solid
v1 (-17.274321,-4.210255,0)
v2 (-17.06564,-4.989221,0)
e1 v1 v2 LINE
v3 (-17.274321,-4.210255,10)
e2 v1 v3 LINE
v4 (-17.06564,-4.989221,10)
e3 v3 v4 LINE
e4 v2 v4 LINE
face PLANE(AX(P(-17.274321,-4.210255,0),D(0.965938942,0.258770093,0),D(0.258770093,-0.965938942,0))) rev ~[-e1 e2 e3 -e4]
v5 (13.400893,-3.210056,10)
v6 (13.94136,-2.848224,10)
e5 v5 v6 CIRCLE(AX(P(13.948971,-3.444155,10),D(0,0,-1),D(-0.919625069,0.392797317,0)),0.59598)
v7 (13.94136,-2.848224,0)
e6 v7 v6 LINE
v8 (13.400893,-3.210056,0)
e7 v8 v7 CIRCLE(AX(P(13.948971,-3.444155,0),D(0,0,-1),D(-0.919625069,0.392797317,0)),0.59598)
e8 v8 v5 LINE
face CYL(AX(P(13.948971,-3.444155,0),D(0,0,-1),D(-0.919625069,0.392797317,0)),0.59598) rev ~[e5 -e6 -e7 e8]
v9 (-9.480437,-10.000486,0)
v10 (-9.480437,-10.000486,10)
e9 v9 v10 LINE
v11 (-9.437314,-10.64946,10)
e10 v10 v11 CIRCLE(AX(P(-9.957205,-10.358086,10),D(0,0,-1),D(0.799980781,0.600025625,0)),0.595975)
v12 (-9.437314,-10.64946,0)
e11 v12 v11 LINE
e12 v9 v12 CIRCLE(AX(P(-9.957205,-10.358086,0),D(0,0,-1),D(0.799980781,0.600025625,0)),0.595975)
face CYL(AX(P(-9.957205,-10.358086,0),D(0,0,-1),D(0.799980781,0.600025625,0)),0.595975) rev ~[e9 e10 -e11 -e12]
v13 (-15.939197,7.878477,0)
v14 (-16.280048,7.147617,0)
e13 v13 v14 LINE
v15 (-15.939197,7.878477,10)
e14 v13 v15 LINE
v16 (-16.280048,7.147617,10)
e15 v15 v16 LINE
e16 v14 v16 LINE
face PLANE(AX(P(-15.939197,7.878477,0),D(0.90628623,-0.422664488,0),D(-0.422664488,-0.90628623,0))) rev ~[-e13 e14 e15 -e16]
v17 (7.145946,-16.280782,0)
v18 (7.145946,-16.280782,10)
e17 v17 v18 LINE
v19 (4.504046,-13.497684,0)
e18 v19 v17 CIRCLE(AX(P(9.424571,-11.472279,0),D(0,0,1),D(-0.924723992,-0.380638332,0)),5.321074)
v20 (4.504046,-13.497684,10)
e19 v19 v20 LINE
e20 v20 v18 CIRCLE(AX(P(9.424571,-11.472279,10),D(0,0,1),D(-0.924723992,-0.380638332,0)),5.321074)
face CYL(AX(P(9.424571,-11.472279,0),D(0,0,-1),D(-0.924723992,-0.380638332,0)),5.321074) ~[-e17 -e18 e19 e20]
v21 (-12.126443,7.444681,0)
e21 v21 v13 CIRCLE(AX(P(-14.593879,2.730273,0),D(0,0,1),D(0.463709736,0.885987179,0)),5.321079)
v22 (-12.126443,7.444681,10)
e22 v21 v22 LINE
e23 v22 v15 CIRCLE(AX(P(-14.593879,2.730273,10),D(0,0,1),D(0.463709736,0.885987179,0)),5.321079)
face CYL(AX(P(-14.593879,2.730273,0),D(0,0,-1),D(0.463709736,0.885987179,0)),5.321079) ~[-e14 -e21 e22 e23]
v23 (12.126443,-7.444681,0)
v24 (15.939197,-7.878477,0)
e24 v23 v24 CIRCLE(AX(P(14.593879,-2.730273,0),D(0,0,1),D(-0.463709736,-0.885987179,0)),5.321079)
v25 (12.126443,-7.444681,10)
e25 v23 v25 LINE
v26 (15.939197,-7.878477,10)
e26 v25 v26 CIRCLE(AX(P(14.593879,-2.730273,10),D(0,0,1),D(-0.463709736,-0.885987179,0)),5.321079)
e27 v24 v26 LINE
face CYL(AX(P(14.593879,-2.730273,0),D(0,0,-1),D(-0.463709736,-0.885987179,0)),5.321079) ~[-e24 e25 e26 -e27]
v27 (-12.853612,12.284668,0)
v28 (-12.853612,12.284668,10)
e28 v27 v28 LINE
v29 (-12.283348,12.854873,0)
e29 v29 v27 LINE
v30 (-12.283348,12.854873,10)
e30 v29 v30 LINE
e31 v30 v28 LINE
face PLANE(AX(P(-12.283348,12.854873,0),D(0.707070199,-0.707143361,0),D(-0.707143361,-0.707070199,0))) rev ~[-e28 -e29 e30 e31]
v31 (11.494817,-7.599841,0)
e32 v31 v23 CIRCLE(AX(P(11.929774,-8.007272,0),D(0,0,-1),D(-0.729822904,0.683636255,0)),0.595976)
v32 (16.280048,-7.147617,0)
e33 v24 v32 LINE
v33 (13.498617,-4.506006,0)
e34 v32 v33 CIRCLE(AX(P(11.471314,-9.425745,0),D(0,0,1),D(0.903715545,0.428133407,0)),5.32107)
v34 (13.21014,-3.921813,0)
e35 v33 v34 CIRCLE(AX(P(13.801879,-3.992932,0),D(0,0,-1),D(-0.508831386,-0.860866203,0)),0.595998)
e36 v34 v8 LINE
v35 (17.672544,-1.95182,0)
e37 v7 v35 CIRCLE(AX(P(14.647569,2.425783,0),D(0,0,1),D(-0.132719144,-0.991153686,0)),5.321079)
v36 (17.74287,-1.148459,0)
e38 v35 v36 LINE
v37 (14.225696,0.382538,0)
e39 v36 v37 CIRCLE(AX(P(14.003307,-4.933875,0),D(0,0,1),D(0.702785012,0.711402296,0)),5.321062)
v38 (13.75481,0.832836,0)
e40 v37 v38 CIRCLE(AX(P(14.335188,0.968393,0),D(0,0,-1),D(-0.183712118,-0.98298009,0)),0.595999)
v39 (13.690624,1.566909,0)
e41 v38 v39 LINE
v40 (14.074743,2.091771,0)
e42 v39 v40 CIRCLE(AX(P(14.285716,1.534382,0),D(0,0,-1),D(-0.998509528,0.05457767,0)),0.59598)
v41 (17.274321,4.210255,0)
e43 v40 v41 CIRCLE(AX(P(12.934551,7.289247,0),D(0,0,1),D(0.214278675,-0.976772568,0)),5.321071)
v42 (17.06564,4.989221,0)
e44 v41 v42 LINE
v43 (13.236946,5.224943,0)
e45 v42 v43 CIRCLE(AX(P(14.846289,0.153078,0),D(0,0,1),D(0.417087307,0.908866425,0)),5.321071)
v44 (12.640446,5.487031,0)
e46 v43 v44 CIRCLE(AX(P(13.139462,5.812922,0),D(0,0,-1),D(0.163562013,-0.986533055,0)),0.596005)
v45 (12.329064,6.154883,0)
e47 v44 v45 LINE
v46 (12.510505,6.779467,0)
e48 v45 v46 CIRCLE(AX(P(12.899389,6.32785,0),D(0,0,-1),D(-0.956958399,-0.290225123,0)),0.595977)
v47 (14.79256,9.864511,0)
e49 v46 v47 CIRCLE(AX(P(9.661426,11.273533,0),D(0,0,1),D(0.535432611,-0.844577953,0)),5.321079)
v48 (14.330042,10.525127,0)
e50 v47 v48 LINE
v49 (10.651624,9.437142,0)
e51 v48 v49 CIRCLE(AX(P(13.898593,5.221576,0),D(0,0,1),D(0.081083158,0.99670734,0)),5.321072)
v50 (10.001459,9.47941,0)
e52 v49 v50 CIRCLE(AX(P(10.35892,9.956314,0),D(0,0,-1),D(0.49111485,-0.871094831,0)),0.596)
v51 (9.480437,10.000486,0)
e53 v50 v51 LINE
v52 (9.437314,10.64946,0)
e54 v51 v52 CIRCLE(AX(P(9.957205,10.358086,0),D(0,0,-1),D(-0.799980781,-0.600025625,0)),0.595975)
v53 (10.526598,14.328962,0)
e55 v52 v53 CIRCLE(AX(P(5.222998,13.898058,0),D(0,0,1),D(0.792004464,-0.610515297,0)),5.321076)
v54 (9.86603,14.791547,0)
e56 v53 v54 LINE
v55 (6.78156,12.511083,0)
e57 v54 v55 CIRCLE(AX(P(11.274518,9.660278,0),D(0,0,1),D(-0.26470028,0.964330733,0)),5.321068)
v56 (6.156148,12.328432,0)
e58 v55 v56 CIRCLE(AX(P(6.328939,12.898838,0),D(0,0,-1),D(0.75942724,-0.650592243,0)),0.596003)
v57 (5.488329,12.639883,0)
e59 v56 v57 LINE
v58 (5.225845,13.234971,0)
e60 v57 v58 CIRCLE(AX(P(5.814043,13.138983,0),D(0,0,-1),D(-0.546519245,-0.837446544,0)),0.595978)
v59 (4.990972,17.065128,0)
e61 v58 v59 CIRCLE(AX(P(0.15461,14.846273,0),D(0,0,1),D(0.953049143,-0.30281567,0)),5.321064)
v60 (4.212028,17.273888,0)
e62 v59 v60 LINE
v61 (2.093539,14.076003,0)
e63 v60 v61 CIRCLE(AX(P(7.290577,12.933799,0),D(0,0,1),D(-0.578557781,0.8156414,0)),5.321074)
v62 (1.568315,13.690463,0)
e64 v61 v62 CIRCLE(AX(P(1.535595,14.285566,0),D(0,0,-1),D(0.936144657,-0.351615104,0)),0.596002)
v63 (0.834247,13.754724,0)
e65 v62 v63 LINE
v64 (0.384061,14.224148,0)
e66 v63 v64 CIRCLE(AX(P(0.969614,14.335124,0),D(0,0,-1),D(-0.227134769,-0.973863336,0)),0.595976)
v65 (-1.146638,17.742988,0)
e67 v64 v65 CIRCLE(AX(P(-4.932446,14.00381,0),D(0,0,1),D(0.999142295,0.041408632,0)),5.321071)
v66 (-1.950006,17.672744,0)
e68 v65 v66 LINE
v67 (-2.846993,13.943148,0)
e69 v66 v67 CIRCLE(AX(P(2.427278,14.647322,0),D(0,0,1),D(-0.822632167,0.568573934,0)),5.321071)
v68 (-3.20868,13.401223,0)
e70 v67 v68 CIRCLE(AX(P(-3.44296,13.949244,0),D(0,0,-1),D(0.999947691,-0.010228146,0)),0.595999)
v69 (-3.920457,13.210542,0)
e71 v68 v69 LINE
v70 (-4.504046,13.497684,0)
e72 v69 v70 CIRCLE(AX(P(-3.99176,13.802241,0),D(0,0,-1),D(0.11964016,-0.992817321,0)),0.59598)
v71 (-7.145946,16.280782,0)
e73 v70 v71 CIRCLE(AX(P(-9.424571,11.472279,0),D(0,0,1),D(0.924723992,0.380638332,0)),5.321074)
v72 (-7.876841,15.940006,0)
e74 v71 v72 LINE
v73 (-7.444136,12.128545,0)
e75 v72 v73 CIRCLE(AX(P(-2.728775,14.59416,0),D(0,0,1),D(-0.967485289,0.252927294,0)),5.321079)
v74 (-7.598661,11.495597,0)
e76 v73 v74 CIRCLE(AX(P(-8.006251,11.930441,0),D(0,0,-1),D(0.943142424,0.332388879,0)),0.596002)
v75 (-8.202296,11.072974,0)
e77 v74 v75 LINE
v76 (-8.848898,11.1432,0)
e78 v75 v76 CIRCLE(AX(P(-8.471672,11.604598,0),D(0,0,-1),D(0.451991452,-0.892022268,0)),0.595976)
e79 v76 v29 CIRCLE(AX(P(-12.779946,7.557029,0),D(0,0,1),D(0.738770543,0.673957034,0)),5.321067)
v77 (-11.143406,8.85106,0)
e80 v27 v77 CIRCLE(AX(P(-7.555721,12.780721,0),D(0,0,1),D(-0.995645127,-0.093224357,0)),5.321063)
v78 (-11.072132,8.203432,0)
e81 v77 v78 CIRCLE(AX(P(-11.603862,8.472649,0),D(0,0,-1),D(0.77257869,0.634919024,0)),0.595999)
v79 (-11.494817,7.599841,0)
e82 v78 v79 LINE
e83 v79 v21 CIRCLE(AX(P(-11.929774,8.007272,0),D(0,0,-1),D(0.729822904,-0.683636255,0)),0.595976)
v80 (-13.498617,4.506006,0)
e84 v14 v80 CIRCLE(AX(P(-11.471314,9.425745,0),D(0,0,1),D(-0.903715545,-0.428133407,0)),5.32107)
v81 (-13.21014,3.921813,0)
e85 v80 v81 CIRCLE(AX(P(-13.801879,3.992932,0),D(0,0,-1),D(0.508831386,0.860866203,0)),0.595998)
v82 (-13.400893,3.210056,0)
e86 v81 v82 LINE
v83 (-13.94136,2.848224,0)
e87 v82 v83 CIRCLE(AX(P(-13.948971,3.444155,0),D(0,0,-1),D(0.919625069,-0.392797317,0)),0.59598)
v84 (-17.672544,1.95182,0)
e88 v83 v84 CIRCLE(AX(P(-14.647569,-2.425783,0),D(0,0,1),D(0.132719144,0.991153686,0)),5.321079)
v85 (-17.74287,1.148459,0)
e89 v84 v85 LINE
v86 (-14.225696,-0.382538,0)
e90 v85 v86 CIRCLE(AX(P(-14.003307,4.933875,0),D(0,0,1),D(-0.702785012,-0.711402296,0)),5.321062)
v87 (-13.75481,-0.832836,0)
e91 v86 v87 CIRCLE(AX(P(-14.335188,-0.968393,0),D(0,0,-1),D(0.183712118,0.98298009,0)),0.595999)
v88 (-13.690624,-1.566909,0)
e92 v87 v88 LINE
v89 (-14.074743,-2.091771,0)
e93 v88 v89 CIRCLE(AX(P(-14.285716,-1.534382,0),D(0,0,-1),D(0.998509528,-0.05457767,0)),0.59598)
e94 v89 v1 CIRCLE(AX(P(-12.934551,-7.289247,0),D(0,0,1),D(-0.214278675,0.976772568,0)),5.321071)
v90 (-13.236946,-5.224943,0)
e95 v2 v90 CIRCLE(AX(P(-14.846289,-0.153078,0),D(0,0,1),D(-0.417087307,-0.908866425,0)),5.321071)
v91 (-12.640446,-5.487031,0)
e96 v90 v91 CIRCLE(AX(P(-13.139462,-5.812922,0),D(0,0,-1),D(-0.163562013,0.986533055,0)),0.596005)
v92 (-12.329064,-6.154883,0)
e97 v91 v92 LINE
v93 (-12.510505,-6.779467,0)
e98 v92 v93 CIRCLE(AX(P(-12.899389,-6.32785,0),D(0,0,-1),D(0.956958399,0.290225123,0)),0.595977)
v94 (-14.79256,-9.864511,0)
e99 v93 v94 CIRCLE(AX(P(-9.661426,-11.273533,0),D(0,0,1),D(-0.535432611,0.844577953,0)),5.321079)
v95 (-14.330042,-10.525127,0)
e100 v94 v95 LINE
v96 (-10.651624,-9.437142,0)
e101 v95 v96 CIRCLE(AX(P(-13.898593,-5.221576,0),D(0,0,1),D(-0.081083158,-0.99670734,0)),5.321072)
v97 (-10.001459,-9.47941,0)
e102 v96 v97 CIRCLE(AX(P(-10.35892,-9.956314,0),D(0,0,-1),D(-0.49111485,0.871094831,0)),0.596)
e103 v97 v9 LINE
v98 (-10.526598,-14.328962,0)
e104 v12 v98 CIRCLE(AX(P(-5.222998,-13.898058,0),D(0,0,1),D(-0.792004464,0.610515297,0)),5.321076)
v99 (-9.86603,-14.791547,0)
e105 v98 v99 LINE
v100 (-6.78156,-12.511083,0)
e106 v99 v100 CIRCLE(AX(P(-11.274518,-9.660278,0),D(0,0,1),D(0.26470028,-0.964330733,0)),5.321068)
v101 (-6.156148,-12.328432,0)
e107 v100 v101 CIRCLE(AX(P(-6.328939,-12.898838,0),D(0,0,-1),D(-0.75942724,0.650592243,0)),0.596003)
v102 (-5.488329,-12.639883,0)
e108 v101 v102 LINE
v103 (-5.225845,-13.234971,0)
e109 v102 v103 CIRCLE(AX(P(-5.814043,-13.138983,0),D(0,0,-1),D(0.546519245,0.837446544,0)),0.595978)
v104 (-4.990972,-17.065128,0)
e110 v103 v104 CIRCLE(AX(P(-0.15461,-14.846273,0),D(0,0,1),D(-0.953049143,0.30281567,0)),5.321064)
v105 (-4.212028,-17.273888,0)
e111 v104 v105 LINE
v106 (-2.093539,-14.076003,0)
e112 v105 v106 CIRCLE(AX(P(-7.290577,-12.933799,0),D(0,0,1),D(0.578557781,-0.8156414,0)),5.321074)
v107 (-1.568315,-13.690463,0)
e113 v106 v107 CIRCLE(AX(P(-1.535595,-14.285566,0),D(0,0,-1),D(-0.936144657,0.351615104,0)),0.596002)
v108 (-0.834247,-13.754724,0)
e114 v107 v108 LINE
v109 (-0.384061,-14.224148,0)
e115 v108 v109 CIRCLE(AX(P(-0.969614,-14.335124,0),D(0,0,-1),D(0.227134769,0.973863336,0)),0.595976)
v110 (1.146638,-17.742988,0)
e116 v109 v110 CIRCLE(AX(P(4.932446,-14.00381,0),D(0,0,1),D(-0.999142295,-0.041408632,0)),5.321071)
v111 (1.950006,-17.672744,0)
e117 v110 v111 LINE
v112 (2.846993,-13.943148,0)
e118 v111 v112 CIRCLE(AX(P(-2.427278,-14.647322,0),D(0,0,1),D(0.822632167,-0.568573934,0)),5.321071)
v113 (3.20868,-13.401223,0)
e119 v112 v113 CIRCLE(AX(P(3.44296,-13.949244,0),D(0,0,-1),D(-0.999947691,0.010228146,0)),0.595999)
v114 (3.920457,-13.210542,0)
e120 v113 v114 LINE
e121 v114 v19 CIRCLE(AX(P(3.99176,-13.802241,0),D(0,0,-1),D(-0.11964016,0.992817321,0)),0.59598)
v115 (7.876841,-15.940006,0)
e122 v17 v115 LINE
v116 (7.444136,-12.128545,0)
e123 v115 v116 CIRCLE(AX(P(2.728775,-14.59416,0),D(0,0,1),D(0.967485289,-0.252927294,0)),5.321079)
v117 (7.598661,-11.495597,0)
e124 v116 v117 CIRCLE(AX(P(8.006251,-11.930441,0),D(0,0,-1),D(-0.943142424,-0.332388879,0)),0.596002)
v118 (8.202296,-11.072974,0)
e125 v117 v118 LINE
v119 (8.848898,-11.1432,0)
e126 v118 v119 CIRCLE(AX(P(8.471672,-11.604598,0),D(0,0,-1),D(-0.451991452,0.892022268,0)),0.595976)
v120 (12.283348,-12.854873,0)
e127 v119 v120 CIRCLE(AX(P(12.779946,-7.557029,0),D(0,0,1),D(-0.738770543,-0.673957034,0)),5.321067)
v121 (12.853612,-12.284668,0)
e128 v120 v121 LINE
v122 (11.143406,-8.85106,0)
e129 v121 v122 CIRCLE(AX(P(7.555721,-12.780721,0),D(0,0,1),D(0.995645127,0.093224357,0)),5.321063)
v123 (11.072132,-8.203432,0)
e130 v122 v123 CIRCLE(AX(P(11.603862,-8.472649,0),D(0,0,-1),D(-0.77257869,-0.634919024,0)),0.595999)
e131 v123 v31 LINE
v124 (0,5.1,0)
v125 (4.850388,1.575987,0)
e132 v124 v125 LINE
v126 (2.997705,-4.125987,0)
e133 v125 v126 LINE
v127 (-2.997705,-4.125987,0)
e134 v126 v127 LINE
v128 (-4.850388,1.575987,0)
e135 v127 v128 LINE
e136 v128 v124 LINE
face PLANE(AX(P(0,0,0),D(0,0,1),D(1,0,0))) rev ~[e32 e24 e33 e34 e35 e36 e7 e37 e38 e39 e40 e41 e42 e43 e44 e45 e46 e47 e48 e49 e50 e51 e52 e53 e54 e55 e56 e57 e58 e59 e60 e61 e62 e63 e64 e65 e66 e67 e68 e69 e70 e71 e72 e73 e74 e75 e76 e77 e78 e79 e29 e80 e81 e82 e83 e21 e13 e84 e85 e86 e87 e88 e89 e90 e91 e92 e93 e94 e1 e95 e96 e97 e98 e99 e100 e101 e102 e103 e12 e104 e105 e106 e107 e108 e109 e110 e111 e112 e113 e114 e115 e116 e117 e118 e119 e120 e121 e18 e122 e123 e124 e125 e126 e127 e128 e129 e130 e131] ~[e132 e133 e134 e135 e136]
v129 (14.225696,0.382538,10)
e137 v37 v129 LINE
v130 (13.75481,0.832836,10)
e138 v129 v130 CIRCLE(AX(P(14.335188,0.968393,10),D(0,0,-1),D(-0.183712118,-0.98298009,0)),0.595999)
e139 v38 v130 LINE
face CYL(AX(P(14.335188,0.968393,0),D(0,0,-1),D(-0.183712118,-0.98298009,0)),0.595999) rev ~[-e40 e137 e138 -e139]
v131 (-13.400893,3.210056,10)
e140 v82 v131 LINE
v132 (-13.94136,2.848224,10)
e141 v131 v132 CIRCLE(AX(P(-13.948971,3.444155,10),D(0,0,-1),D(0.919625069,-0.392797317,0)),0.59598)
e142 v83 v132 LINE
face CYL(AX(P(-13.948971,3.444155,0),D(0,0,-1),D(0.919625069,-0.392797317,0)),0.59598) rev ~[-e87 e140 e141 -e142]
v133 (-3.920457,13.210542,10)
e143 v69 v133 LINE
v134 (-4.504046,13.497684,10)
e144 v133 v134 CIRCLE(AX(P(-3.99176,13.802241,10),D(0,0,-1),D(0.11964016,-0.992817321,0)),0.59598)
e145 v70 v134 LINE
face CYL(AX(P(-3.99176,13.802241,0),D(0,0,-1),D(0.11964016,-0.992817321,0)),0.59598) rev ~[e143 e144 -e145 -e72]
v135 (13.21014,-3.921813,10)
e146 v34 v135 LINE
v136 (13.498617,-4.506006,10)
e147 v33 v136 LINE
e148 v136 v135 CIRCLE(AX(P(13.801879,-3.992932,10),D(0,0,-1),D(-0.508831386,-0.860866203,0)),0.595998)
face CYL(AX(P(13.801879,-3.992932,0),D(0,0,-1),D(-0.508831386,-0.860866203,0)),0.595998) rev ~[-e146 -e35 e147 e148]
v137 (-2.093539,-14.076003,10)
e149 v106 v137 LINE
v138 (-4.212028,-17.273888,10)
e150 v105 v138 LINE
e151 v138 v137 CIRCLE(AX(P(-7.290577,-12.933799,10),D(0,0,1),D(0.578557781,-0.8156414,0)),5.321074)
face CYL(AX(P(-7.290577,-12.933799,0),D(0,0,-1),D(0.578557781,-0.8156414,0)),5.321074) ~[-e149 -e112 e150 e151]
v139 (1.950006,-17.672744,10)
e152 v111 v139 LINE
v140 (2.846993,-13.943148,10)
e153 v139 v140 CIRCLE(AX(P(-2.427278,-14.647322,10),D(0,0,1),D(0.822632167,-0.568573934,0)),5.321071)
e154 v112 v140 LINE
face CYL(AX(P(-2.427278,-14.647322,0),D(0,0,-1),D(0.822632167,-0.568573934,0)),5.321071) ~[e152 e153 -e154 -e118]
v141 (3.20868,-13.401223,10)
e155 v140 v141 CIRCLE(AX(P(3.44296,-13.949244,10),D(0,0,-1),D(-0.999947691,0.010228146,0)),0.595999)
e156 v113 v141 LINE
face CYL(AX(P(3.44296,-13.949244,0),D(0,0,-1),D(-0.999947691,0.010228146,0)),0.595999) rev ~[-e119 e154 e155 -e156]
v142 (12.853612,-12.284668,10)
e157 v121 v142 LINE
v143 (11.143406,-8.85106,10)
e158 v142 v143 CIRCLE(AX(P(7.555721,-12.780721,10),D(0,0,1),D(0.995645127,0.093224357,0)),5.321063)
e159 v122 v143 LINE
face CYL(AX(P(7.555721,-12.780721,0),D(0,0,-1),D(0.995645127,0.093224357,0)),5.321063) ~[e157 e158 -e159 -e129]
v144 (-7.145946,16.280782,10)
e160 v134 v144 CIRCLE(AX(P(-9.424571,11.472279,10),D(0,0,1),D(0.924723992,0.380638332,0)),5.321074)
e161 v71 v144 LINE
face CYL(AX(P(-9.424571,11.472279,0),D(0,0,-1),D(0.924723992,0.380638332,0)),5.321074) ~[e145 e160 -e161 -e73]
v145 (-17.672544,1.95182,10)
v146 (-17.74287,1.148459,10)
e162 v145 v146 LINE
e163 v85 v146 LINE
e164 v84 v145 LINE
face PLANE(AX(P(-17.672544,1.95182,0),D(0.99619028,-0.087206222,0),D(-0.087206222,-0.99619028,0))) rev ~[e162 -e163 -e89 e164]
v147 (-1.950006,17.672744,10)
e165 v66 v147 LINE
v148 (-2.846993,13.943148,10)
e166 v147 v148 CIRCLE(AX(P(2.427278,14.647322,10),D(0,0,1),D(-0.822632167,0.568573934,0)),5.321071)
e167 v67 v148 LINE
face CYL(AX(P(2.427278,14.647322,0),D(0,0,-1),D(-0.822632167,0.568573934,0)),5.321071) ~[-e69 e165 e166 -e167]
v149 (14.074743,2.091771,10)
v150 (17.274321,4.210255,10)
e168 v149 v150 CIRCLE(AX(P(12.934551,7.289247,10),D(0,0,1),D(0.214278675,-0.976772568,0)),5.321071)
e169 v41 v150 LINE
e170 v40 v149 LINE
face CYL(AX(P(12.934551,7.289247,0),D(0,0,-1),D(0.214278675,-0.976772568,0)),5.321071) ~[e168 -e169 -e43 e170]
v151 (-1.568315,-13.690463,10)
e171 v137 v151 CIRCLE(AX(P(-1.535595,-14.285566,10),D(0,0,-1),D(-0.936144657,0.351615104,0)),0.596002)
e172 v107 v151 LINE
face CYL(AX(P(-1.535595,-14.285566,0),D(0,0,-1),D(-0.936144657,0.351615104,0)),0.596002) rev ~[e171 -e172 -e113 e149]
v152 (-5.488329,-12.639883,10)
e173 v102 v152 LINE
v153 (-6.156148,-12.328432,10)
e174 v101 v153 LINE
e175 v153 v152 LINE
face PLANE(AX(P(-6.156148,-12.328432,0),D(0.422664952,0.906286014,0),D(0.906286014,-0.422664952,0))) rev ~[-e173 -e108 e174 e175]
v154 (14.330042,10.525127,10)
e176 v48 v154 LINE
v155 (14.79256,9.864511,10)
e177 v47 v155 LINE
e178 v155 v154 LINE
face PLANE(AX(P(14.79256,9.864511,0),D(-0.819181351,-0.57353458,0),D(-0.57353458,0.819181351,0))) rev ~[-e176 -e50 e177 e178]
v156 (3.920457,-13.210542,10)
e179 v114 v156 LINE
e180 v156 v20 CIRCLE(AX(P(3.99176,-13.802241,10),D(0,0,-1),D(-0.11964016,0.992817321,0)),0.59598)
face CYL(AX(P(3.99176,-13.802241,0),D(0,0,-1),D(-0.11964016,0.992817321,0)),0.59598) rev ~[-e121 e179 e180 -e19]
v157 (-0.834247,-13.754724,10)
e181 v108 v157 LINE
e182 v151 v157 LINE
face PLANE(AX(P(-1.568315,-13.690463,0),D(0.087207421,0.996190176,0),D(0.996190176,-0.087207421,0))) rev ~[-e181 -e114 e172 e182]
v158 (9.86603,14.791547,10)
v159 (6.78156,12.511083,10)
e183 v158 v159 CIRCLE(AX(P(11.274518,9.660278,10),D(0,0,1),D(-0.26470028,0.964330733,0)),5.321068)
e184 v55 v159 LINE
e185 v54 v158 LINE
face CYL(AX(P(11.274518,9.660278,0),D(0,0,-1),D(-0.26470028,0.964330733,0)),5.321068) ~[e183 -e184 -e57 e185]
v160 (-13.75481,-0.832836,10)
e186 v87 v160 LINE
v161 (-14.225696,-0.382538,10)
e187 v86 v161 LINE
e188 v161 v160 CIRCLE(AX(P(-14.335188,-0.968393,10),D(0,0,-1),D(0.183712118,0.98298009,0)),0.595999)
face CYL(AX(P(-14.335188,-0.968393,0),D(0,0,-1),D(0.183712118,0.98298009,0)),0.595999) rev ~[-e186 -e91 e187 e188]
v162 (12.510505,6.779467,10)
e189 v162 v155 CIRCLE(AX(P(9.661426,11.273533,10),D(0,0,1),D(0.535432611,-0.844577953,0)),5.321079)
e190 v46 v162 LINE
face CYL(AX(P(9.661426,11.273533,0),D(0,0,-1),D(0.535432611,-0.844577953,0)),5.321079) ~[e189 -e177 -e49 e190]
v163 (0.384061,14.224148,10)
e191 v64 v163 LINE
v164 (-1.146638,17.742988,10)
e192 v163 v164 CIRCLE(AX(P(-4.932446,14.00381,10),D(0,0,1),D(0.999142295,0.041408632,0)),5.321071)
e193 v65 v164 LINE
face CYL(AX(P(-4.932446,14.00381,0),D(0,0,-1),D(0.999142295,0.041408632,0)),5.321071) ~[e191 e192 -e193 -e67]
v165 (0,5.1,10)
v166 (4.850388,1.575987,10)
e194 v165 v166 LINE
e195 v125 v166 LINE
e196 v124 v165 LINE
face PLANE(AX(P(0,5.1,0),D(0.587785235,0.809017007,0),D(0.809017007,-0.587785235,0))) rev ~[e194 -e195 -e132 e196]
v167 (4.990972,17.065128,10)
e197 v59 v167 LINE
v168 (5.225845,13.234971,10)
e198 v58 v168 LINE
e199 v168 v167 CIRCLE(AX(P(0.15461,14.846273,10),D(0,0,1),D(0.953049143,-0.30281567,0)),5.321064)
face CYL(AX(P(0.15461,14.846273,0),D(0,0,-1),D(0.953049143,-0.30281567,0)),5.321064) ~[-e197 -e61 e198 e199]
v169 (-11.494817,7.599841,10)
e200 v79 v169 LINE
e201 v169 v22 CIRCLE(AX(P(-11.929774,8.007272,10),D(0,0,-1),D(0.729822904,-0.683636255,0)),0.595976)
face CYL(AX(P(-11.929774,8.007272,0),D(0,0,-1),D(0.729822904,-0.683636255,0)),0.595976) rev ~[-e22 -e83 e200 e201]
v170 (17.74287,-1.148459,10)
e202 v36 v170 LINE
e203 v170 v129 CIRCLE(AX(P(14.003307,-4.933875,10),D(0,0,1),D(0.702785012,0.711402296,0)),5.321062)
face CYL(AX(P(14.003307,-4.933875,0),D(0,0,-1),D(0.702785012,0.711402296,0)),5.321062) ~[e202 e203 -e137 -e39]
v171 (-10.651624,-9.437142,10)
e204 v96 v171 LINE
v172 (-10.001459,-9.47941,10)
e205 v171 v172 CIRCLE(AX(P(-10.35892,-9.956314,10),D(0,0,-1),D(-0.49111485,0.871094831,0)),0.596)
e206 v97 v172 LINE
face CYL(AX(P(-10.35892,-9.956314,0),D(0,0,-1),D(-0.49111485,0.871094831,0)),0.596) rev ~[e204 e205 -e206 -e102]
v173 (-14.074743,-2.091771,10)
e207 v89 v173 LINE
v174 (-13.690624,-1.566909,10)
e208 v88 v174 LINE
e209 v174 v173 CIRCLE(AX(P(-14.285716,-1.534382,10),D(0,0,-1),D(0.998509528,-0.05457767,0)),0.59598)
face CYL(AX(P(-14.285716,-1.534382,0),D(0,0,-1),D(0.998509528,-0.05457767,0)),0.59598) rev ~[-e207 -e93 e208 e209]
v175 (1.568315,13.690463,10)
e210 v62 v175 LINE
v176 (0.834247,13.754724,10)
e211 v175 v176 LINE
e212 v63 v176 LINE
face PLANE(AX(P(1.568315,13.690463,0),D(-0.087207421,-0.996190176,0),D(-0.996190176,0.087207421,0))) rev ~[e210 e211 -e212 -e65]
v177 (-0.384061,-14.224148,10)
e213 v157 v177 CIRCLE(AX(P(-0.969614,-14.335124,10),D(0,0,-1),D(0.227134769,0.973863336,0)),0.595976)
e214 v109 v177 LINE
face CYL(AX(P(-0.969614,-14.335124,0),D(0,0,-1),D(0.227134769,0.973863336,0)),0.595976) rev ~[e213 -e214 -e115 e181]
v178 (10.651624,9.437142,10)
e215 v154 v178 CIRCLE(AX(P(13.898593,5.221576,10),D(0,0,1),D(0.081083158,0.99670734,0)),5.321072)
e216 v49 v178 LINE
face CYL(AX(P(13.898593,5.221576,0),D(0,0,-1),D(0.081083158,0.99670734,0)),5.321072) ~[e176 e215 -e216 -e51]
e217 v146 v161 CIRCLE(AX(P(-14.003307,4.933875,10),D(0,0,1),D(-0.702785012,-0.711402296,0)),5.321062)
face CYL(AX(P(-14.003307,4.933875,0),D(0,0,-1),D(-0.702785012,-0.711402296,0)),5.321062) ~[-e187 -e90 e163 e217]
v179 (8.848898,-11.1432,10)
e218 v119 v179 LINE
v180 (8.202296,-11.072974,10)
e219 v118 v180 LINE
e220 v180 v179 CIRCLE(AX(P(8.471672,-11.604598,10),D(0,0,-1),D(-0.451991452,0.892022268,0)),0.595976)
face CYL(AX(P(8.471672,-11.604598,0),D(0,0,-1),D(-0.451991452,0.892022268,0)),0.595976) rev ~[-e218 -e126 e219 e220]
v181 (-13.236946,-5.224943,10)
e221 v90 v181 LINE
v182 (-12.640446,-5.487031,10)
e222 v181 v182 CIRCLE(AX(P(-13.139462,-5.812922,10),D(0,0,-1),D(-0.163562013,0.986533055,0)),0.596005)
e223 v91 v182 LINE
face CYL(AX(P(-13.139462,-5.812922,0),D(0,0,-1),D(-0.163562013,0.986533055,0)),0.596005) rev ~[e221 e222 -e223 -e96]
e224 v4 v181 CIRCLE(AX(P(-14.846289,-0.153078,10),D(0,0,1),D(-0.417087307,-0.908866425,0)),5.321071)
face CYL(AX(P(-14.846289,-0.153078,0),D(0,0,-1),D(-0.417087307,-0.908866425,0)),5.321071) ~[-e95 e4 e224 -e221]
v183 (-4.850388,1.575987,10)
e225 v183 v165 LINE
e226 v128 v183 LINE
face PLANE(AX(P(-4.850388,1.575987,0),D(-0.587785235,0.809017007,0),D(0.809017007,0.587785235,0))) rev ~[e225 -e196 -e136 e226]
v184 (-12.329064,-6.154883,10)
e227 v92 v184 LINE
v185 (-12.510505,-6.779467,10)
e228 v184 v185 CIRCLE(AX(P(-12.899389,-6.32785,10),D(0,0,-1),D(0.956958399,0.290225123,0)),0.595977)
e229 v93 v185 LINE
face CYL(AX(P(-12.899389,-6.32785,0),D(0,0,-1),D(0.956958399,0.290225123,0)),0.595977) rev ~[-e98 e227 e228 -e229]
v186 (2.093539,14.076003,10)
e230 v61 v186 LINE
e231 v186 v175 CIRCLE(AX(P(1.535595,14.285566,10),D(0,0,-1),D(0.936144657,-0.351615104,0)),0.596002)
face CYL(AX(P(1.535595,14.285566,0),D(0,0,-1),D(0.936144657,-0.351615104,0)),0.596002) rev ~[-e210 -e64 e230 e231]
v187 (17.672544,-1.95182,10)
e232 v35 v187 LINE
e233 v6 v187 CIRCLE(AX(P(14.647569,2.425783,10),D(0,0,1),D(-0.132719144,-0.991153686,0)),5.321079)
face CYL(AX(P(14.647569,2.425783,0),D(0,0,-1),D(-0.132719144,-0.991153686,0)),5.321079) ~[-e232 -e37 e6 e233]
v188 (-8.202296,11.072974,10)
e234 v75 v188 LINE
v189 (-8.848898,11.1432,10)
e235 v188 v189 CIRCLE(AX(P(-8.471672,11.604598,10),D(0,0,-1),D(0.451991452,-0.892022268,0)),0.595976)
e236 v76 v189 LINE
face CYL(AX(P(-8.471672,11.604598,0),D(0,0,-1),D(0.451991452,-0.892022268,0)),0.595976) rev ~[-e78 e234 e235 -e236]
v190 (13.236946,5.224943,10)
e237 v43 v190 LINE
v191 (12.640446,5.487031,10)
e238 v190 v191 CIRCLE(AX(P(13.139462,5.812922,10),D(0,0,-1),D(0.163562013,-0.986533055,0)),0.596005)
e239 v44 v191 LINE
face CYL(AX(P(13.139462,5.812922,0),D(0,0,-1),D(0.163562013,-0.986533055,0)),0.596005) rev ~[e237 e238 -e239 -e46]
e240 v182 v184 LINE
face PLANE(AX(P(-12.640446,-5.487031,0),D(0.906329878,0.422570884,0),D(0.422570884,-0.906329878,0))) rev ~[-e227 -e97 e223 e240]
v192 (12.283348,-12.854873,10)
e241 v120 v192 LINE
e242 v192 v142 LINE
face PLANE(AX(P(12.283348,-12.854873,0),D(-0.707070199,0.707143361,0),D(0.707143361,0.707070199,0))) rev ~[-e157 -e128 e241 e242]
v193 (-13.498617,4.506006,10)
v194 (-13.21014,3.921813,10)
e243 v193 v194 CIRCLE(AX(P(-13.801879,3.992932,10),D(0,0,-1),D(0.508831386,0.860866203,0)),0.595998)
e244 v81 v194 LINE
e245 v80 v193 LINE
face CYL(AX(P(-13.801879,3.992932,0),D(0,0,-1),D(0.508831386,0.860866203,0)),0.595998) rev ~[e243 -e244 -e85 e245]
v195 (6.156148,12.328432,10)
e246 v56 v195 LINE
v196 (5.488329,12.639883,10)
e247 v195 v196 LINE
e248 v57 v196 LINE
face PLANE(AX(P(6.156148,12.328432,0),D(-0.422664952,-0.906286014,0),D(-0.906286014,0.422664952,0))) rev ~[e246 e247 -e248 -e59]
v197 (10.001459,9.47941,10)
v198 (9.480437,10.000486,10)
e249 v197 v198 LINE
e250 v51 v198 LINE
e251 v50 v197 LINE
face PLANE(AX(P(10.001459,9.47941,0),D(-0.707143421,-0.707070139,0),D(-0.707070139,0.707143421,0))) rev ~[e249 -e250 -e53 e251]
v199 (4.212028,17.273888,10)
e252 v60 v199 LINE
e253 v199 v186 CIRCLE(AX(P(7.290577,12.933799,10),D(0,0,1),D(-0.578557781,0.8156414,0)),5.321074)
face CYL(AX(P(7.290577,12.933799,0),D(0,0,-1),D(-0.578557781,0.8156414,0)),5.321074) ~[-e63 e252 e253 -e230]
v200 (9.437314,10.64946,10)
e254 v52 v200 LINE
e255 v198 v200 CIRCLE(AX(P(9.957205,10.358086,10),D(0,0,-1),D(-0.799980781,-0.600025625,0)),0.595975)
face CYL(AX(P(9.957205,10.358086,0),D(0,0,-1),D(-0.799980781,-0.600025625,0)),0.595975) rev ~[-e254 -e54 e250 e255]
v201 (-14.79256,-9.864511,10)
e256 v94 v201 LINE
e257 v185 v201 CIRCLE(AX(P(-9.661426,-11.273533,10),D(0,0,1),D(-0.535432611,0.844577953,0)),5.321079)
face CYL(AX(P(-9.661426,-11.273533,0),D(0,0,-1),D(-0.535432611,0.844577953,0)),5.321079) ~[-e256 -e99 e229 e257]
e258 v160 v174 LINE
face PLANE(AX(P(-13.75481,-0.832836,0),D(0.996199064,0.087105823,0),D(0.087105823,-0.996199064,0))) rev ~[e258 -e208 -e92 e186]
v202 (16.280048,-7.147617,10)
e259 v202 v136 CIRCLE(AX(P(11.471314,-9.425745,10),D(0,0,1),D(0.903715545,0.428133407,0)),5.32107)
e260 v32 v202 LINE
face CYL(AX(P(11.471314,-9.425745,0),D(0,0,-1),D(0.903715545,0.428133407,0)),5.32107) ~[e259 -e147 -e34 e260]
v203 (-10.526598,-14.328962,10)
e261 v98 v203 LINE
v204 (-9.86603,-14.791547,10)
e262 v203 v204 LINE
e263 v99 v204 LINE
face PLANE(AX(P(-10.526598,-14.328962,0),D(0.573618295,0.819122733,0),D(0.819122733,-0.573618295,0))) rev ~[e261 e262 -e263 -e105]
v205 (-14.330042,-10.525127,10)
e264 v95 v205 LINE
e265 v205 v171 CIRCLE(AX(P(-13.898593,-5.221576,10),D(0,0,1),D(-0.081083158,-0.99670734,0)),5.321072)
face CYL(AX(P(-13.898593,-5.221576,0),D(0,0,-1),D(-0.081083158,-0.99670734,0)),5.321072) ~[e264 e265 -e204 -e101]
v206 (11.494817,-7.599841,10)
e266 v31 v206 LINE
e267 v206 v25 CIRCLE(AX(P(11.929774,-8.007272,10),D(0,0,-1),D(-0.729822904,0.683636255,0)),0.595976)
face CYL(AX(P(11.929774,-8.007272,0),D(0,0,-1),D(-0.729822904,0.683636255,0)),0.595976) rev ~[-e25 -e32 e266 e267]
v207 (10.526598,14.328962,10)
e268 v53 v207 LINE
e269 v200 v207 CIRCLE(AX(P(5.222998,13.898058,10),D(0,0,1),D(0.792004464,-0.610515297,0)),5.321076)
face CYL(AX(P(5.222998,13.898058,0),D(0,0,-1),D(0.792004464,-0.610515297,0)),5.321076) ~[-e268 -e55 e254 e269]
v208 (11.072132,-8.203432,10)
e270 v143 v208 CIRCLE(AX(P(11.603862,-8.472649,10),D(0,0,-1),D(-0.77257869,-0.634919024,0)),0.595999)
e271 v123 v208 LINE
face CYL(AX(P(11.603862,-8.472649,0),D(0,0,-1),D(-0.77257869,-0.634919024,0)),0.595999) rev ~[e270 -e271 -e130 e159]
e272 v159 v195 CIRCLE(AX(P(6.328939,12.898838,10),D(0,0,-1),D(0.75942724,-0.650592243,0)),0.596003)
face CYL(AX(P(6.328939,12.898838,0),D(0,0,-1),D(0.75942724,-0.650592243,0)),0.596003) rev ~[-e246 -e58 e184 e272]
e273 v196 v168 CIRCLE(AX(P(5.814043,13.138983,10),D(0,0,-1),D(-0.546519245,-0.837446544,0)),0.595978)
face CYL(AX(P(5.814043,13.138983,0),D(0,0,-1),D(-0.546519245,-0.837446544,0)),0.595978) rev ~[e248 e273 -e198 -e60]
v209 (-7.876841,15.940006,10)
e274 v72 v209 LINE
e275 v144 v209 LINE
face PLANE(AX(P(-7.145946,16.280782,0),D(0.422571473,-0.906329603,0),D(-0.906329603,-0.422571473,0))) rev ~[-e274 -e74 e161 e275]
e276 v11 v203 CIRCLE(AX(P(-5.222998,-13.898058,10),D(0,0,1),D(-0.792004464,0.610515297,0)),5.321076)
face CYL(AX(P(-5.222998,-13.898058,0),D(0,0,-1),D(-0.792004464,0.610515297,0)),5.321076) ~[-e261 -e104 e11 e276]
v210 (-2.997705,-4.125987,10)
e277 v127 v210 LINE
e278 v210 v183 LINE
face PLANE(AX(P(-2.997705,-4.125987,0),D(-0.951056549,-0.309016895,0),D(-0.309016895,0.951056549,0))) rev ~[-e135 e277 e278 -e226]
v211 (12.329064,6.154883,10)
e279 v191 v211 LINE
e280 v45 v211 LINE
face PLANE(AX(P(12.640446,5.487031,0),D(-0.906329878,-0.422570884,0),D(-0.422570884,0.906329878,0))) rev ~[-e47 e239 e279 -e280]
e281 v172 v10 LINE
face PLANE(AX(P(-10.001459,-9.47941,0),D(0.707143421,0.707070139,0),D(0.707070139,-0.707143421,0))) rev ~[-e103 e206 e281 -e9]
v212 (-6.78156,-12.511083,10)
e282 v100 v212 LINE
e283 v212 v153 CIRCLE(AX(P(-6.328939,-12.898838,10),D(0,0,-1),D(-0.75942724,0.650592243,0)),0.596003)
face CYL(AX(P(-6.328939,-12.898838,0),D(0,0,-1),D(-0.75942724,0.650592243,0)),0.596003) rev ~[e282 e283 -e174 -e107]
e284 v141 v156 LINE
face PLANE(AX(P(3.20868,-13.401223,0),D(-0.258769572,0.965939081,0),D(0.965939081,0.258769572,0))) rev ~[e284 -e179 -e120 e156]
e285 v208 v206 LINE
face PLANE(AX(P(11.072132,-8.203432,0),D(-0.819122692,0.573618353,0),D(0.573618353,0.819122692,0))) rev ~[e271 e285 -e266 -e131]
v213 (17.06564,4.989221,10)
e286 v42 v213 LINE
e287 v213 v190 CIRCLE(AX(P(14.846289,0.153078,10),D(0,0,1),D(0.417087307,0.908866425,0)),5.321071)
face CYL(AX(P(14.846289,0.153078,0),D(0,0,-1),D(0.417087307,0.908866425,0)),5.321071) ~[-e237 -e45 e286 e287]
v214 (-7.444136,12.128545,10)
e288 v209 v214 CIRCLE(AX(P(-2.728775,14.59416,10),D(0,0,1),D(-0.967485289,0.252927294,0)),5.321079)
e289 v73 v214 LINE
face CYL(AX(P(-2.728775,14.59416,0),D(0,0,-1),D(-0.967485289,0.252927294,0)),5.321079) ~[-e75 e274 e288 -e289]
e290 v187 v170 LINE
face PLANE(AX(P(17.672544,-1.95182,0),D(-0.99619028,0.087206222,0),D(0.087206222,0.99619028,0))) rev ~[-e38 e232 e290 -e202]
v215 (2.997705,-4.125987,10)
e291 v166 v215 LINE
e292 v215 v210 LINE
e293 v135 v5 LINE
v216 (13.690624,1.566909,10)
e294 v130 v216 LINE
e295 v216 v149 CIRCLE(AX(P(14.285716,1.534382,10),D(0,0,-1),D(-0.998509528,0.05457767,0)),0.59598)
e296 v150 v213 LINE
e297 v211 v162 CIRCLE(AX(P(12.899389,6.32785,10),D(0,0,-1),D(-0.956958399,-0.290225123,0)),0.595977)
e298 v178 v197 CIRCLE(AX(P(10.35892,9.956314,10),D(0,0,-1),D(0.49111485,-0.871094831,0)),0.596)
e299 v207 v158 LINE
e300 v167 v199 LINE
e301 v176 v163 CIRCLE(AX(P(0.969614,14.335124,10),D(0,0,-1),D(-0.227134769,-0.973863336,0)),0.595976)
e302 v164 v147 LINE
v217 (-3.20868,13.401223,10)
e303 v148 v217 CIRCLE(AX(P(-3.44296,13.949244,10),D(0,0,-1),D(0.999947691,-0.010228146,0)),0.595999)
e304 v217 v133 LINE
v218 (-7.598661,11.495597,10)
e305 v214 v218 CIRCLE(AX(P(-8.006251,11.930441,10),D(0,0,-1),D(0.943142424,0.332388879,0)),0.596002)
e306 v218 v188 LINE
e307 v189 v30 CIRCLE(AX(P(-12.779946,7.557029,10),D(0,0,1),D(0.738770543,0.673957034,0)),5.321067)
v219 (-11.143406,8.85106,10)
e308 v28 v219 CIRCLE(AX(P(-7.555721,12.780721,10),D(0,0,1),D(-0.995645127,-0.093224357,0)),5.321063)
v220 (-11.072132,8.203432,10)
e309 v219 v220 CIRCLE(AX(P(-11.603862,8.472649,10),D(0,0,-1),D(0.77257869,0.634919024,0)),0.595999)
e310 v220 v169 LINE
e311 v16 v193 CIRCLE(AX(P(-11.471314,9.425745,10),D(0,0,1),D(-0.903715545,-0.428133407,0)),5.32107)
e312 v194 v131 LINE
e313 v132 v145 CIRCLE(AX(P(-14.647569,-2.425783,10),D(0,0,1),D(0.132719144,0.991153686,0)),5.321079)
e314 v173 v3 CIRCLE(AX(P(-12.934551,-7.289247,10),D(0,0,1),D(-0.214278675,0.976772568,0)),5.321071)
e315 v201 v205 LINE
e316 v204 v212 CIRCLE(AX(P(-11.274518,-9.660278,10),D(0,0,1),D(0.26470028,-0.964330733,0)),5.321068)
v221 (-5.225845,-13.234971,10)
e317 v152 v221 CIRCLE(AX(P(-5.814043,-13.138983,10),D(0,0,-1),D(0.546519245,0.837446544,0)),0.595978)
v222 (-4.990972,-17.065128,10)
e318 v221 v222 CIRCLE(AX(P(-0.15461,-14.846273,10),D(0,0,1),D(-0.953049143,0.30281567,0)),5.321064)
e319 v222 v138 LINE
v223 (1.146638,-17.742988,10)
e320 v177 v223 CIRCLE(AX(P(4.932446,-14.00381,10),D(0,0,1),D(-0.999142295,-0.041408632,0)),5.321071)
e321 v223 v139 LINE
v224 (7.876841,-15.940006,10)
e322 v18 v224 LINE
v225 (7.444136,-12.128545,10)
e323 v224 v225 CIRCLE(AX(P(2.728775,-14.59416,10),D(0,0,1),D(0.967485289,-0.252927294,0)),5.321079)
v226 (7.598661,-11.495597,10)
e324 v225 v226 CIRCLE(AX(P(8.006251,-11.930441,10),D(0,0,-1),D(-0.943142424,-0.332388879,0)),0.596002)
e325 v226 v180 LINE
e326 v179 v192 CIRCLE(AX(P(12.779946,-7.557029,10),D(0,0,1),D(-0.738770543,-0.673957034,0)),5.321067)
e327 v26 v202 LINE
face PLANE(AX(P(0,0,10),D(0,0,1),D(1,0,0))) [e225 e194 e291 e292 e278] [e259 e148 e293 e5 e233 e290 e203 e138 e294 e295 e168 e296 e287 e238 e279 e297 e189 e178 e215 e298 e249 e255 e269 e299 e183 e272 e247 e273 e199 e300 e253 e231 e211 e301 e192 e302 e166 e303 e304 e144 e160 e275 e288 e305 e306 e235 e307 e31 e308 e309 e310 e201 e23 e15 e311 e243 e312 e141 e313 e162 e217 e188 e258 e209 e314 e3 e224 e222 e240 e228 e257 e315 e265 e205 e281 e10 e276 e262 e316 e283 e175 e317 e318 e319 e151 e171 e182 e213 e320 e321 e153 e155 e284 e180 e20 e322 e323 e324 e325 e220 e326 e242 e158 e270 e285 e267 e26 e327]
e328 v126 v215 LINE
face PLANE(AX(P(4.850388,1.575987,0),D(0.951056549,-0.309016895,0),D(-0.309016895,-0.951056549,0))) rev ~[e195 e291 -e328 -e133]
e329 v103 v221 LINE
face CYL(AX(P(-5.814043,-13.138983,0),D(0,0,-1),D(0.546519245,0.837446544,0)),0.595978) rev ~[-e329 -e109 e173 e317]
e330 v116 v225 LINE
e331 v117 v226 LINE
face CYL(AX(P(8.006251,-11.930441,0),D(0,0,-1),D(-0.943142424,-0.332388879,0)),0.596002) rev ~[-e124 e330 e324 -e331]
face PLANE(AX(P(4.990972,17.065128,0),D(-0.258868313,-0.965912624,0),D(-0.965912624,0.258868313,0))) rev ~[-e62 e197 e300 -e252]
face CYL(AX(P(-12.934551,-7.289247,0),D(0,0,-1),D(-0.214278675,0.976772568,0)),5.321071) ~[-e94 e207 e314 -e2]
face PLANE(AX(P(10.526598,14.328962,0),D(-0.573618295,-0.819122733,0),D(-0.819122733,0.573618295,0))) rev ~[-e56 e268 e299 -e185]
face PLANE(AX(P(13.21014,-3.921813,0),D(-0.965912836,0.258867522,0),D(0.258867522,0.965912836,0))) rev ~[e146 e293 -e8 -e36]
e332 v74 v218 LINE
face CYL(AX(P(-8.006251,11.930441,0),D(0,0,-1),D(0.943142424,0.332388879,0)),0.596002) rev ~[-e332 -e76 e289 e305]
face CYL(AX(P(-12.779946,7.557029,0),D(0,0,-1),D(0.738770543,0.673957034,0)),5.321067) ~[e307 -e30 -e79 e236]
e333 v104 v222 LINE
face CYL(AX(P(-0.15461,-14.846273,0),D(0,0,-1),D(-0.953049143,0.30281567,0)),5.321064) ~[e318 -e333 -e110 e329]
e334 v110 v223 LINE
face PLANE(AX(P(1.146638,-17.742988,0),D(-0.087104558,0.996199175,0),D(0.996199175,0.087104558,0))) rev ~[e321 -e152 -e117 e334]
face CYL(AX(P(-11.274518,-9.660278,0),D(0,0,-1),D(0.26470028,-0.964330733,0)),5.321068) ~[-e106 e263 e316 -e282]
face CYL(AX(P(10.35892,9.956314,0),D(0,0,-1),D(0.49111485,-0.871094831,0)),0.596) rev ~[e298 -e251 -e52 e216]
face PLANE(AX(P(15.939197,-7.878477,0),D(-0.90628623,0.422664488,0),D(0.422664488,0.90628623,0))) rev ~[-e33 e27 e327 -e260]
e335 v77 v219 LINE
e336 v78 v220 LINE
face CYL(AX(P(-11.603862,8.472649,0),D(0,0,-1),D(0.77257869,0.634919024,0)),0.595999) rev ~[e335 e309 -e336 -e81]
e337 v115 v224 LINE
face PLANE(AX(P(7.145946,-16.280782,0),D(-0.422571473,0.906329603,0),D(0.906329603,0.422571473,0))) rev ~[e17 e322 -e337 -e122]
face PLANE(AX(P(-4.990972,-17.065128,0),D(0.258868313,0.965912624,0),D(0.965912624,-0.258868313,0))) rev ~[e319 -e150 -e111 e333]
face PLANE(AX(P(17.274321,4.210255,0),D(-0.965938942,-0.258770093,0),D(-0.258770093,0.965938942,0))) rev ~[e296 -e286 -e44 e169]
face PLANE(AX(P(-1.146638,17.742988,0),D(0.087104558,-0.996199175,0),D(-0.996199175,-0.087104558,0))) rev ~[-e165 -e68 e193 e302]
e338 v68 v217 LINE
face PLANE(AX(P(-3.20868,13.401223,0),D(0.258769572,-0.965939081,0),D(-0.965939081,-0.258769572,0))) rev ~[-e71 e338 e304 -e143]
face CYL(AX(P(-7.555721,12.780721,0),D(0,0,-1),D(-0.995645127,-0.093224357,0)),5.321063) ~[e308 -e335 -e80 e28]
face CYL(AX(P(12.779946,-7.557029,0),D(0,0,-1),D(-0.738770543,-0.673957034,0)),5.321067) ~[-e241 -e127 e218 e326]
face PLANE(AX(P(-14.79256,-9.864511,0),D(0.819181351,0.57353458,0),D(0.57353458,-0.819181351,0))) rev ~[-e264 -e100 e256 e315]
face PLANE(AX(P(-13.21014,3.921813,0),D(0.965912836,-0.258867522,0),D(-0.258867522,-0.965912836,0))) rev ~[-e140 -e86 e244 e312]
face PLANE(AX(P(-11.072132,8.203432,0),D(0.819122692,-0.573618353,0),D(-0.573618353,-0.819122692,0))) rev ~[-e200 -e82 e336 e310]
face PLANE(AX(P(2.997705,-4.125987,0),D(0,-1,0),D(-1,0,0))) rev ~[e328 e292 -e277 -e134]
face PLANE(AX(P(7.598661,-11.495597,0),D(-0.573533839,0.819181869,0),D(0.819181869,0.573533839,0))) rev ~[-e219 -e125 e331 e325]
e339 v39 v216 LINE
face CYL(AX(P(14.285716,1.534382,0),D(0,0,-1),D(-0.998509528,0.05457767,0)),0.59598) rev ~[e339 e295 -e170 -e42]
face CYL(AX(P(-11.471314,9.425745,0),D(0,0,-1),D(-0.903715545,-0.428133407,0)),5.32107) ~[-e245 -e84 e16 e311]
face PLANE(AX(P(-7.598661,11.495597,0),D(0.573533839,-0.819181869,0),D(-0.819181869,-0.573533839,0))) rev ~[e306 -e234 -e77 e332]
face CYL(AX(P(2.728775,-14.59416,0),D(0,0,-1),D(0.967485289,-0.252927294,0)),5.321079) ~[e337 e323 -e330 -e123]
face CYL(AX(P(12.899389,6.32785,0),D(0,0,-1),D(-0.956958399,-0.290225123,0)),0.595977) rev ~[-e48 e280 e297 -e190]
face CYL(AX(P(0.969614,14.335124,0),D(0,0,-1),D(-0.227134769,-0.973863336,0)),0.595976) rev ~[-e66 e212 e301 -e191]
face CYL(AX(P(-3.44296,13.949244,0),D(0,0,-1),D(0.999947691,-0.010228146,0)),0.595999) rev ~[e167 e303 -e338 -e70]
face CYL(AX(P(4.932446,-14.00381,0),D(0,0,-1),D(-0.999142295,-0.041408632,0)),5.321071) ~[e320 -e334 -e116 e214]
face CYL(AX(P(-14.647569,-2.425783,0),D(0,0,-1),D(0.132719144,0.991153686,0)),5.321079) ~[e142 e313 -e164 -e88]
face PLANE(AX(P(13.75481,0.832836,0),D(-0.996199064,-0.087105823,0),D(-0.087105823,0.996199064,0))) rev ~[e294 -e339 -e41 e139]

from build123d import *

# Parameters (mm, degrees)
F1_DEPTH = 10


with BuildPart() as f1:
    # F0 (on Top) → F1 (new body)
    with BuildSketch(Plane.XY):
        with BuildLine():
            ThreePointArc((0.834247, 13.754724), (0.539473, 13.922611), (0.384061, 14.224148))
            ThreePointArc((0.384061, 14.224148), (-0.053041, 16.126356), (-1.146638, 17.742988))
            Line((-1.146638, 17.742988), (-1.950006, 17.672744))
            ThreePointArc((-1.950006, 17.672744), (-2.74627, 15.891587), (-2.846993, 13.943148))
            ThreePointArc((-2.846993, 13.943148), (-2.94723, 13.618388), (-3.20868, 13.401223))
            Line((-3.20868, 13.401223), (-3.920457, 13.210542))
            ThreePointArc((-3.920457, 13.210542), (-4.254874, 13.267486), (-4.504046, 13.497684))
            ThreePointArc((-4.504046, 13.497684), (-5.565381, 15.135677), (-7.145946, 16.280782))
            Line((-7.145946, 16.280782), (-7.876841, 15.940006))
            ThreePointArc((-7.876841, 15.940006), (-8.015892, 13.993927), (-7.444136, 12.128545))
            ThreePointArc((-7.444136, 12.128545), (-7.427254, 11.789086), (-7.598661, 11.495597))
            Line((-7.598661, 11.495597), (-8.202296, 11.072974))
            ThreePointArc((-8.202296, 11.072974), (-8.536021, 11.012106), (-8.848898, 11.1432))
            ThreePointArc((-8.848898, 11.1432), (-10.406453, 12.319412), (-12.283348, 12.854873))
            Line((-12.283348, 12.854873), (-12.853612, 12.284668))
            ThreePointArc((-12.853612, 12.284668), (-12.31868, 10.408393), (-11.143406, 8.85106))
            ThreePointArc((-11.143406, 8.85106), (-11.01144, 8.537847), (-11.072132, 8.203432))
            Line((-11.072132, 8.203432), (-11.494817, 7.599841))
            ThreePointArc((-11.494817, 7.599841), (-11.787598, 7.428503), (-12.126443, 7.444681))
            ThreePointArc((-12.126443, 7.444681), (-13.992354, 8.017243), (-15.939197, 7.878477))
            Line((-15.939197, 7.878477), (-16.280048, 7.147617))
            ThreePointArc((-16.280048, 7.147617), (-15.135653, 5.567454), (-13.498617, 4.506006))
            ThreePointArc((-13.498617, 4.506006), (-13.267485, 4.256818), (-13.21014, 3.921813))
            Line((-13.21014, 3.921813), (-13.400893, 3.210056))
            ThreePointArc((-13.400893, 3.210056), (-13.617417, 2.948914), (-13.94136, 2.848224))
            ThreePointArc((-13.94136, 2.848224), (-15.890571, 2.748077), (-17.672544, 1.95182))
            Line((-17.672544, 1.95182), (-17.74287, 1.148459))
            ThreePointArc((-17.74287, 1.148459), (-16.127043, 0.054997), (-14.225696, -0.382538))
            ThreePointArc((-14.225696, -0.382538), (-13.923275, -0.537647), (-13.75481, -0.832836))
            Line((-13.75481, -0.832836), (-13.690624, -1.566909))
            ThreePointArc((-13.690624, -1.566909), (-13.804774, -1.886358), (-14.074743, -2.091771))
            ThreePointArc((-14.074743, -2.091771), (-15.87215, -2.852547), (-17.274321, -4.210255))
            Line((-17.274321, -4.210255), (-17.06564, -4.989221))
            ThreePointArc((-17.06564, -4.989221), (-15.173273, -5.464093), (-13.236946, -5.224943))
            ThreePointArc((-13.236946, -5.224943), (-12.899713, -5.267264), (-12.640446, -5.487031))
            Line((-12.640446, -5.487031), (-12.329064, -6.154883))
            ThreePointArc((-12.329064, -6.154883), (-12.327072, -6.494108), (-12.510505, -6.779467))
            ThreePointArc((-12.510505, -6.779467), (-13.939314, -8.109113), (-14.79256, -9.864511))
            Line((-14.79256, -9.864511), (-14.330042, -10.525127))
            ThreePointArc((-14.330042, -10.525127), (-12.389383, -10.324133), (-10.651624, -9.437142))
            ThreePointArc((-10.651624, -9.437142), (-10.320255, -9.36157), (-10.001459, -9.47941))
            Line((-10.001459, -9.47941), (-9.480437, -10.000486))
            ThreePointArc((-9.480437, -10.000486), (-9.362542, -10.318572), (-9.437314, -10.64946))
            ThreePointArc((-9.437314, -10.64946), (-10.32519, -12.387599), (-10.526598, -14.328962))
            Line((-10.526598, -14.328962), (-9.86603, -14.791547))
            ThreePointArc((-9.86603, -14.791547), (-8.11115, -13.93893), (-6.78156, -12.511083))
            ThreePointArc((-6.78156, -12.511083), (-6.496022, -12.326734), (-6.156148, -12.328432))
            Line((-6.156148, -12.328432), (-5.488329, -12.639883))
            ThreePointArc((-5.488329, -12.639883), (-5.268753, -12.898464), (-5.225845, -13.234971))
            ThreePointArc((-5.225845, -13.234971), (-5.465697, -15.171959), (-4.990972, -17.065128))
            Line((-4.990972, -17.065128), (-4.212028, -17.273888))
            ThreePointArc((-4.212028, -17.273888), (-2.854593, -15.872486), (-2.093539, -14.076003))
            ThreePointArc((-2.093539, -14.076003), (-1.888272, -13.805111), (-1.568315, -13.690463))
            Line((-1.568315, -13.690463), (-0.834247, -13.754724))
            ThreePointArc((-0.834247, -13.754724), (-0.539473, -13.922611), (-0.384061, -14.224148))
            ThreePointArc((-0.384061, -14.224148), (0.053041, -16.126356), (1.146638, -17.742988))
            Line((1.146638, -17.742988), (1.950006, -17.672744))
            ThreePointArc((1.950006, -17.672744), (2.74627, -15.891587), (2.846993, -13.943148))
            ThreePointArc((2.846993, -13.943148), (2.94723, -13.618388), (3.20868, -13.401223))
            Line((3.20868, -13.401223), (3.920457, -13.210542))
            ThreePointArc((3.920457, -13.210542), (4.254874, -13.267486), (4.504046, -13.497684))
            ThreePointArc((4.504046, -13.497684), (5.565381, -15.135677), (7.145946, -16.280782))
            Line((7.145946, -16.280782), (7.876841, -15.940006))
            ThreePointArc((7.876841, -15.940006), (8.015892, -13.993927), (7.444136, -12.128545))
            ThreePointArc((7.444136, -12.128545), (7.427254, -11.789086), (7.598661, -11.495597))
            Line((7.598661, -11.495597), (8.202296, -11.072974))
            ThreePointArc((8.202296, -11.072974), (8.536021, -11.012106), (8.848898, -11.1432))
            ThreePointArc((8.848898, -11.1432), (10.406453, -12.319412), (12.283348, -12.854873))
            Line((12.283348, -12.854873), (12.853612, -12.284668))
            ThreePointArc((12.853612, -12.284668), (12.31868, -10.408393), (11.143406, -8.85106))
            ThreePointArc((11.143406, -8.85106), (11.01144, -8.537847), (11.072132, -8.203432))
            Line((11.072132, -8.203432), (11.494817, -7.599841))
            ThreePointArc((11.494817, -7.599841), (11.787598, -7.428503), (12.126443, -7.444681))
            ThreePointArc((12.126443, -7.444681), (13.992354, -8.017243), (15.939197, -7.878477))
            Line((15.939197, -7.878477), (16.280048, -7.147617))
            ThreePointArc((16.280048, -7.147617), (15.135653, -5.567454), (13.498617, -4.506006))
            ThreePointArc((13.498617, -4.506006), (13.267485, -4.256818), (13.21014, -3.921813))
            Line((13.21014, -3.921813), (13.400893, -3.210056))
            ThreePointArc((13.400893, -3.210056), (13.617417, -2.948914), (13.94136, -2.848224))
            ThreePointArc((13.94136, -2.848224), (15.890571, -2.748077), (17.672544, -1.95182))
            Line((17.672544, -1.95182), (17.74287, -1.148459))
            ThreePointArc((17.74287, -1.148459), (16.127043, -0.054997), (14.225696, 0.382538))
            ThreePointArc((14.225696, 0.382538), (13.923275, 0.537647), (13.75481, 0.832836))
            Line((13.75481, 0.832836), (13.690624, 1.566909))
            ThreePointArc((13.690624, 1.566909), (13.804774, 1.886358), (14.074743, 2.091771))
            ThreePointArc((14.074743, 2.091771), (15.87215, 2.852547), (17.274321, 4.210255))
            Line((17.274321, 4.210255), (17.06564, 4.989221))
            ThreePointArc((17.06564, 4.989221), (15.173273, 5.464093), (13.236946, 5.224943))
            ThreePointArc((13.236946, 5.224943), (12.899713, 5.267264), (12.640446, 5.487031))
            Line((12.640446, 5.487031), (12.329064, 6.154883))
            ThreePointArc((12.329064, 6.154883), (12.327072, 6.494108), (12.510505, 6.779467))
            ThreePointArc((12.510505, 6.779467), (13.939314, 8.109113), (14.79256, 9.864511))
            Line((14.79256, 9.864511), (14.330042, 10.525127))
            ThreePointArc((14.330042, 10.525127), (12.389383, 10.324133), (10.651624, 9.437142))
            ThreePointArc((10.651624, 9.437142), (10.320255, 9.36157), (10.001459, 9.47941))
            Line((10.001459, 9.47941), (9.480437, 10.000486))
            ThreePointArc((9.480437, 10.000486), (9.362542, 10.318572), (9.437314, 10.64946))
            ThreePointArc((9.437314, 10.64946), (10.32519, 12.387599), (10.526598, 14.328962))
            Line((10.526598, 14.328962), (9.86603, 14.791547))
            ThreePointArc((9.86603, 14.791547), (8.11115, 13.93893), (6.78156, 12.511083))
            ThreePointArc((6.78156, 12.511083), (6.496022, 12.326734), (6.156148, 12.328432))
            Line((6.156148, 12.328432), (5.488329, 12.639883))
            ThreePointArc((5.488329, 12.639883), (5.268753, 12.898464), (5.225845, 13.234971))
            ThreePointArc((5.225845, 13.234971), (5.465697, 15.171959), (4.990972, 17.065128))
            Line((4.990972, 17.065128), (4.212028, 17.273888))
            ThreePointArc((4.212028, 17.273888), (2.854593, 15.872486), (2.093539, 14.076003))
            ThreePointArc((2.093539, 14.076003), (1.888272, 13.805111), (1.568315, 13.690463))
            Line((1.568315, 13.690463), (0.834247, 13.754724))
        make_face()
        Polygon((0, 5.1), (4.850388, 1.575987), (2.997705, -4.125987), (-2.997705, -4.125987), (-4.850388, 1.575987), align=None, mode=Mode.SUBTRACT)
    extrude(amount=F1_DEPTH)


solid = f1.part
